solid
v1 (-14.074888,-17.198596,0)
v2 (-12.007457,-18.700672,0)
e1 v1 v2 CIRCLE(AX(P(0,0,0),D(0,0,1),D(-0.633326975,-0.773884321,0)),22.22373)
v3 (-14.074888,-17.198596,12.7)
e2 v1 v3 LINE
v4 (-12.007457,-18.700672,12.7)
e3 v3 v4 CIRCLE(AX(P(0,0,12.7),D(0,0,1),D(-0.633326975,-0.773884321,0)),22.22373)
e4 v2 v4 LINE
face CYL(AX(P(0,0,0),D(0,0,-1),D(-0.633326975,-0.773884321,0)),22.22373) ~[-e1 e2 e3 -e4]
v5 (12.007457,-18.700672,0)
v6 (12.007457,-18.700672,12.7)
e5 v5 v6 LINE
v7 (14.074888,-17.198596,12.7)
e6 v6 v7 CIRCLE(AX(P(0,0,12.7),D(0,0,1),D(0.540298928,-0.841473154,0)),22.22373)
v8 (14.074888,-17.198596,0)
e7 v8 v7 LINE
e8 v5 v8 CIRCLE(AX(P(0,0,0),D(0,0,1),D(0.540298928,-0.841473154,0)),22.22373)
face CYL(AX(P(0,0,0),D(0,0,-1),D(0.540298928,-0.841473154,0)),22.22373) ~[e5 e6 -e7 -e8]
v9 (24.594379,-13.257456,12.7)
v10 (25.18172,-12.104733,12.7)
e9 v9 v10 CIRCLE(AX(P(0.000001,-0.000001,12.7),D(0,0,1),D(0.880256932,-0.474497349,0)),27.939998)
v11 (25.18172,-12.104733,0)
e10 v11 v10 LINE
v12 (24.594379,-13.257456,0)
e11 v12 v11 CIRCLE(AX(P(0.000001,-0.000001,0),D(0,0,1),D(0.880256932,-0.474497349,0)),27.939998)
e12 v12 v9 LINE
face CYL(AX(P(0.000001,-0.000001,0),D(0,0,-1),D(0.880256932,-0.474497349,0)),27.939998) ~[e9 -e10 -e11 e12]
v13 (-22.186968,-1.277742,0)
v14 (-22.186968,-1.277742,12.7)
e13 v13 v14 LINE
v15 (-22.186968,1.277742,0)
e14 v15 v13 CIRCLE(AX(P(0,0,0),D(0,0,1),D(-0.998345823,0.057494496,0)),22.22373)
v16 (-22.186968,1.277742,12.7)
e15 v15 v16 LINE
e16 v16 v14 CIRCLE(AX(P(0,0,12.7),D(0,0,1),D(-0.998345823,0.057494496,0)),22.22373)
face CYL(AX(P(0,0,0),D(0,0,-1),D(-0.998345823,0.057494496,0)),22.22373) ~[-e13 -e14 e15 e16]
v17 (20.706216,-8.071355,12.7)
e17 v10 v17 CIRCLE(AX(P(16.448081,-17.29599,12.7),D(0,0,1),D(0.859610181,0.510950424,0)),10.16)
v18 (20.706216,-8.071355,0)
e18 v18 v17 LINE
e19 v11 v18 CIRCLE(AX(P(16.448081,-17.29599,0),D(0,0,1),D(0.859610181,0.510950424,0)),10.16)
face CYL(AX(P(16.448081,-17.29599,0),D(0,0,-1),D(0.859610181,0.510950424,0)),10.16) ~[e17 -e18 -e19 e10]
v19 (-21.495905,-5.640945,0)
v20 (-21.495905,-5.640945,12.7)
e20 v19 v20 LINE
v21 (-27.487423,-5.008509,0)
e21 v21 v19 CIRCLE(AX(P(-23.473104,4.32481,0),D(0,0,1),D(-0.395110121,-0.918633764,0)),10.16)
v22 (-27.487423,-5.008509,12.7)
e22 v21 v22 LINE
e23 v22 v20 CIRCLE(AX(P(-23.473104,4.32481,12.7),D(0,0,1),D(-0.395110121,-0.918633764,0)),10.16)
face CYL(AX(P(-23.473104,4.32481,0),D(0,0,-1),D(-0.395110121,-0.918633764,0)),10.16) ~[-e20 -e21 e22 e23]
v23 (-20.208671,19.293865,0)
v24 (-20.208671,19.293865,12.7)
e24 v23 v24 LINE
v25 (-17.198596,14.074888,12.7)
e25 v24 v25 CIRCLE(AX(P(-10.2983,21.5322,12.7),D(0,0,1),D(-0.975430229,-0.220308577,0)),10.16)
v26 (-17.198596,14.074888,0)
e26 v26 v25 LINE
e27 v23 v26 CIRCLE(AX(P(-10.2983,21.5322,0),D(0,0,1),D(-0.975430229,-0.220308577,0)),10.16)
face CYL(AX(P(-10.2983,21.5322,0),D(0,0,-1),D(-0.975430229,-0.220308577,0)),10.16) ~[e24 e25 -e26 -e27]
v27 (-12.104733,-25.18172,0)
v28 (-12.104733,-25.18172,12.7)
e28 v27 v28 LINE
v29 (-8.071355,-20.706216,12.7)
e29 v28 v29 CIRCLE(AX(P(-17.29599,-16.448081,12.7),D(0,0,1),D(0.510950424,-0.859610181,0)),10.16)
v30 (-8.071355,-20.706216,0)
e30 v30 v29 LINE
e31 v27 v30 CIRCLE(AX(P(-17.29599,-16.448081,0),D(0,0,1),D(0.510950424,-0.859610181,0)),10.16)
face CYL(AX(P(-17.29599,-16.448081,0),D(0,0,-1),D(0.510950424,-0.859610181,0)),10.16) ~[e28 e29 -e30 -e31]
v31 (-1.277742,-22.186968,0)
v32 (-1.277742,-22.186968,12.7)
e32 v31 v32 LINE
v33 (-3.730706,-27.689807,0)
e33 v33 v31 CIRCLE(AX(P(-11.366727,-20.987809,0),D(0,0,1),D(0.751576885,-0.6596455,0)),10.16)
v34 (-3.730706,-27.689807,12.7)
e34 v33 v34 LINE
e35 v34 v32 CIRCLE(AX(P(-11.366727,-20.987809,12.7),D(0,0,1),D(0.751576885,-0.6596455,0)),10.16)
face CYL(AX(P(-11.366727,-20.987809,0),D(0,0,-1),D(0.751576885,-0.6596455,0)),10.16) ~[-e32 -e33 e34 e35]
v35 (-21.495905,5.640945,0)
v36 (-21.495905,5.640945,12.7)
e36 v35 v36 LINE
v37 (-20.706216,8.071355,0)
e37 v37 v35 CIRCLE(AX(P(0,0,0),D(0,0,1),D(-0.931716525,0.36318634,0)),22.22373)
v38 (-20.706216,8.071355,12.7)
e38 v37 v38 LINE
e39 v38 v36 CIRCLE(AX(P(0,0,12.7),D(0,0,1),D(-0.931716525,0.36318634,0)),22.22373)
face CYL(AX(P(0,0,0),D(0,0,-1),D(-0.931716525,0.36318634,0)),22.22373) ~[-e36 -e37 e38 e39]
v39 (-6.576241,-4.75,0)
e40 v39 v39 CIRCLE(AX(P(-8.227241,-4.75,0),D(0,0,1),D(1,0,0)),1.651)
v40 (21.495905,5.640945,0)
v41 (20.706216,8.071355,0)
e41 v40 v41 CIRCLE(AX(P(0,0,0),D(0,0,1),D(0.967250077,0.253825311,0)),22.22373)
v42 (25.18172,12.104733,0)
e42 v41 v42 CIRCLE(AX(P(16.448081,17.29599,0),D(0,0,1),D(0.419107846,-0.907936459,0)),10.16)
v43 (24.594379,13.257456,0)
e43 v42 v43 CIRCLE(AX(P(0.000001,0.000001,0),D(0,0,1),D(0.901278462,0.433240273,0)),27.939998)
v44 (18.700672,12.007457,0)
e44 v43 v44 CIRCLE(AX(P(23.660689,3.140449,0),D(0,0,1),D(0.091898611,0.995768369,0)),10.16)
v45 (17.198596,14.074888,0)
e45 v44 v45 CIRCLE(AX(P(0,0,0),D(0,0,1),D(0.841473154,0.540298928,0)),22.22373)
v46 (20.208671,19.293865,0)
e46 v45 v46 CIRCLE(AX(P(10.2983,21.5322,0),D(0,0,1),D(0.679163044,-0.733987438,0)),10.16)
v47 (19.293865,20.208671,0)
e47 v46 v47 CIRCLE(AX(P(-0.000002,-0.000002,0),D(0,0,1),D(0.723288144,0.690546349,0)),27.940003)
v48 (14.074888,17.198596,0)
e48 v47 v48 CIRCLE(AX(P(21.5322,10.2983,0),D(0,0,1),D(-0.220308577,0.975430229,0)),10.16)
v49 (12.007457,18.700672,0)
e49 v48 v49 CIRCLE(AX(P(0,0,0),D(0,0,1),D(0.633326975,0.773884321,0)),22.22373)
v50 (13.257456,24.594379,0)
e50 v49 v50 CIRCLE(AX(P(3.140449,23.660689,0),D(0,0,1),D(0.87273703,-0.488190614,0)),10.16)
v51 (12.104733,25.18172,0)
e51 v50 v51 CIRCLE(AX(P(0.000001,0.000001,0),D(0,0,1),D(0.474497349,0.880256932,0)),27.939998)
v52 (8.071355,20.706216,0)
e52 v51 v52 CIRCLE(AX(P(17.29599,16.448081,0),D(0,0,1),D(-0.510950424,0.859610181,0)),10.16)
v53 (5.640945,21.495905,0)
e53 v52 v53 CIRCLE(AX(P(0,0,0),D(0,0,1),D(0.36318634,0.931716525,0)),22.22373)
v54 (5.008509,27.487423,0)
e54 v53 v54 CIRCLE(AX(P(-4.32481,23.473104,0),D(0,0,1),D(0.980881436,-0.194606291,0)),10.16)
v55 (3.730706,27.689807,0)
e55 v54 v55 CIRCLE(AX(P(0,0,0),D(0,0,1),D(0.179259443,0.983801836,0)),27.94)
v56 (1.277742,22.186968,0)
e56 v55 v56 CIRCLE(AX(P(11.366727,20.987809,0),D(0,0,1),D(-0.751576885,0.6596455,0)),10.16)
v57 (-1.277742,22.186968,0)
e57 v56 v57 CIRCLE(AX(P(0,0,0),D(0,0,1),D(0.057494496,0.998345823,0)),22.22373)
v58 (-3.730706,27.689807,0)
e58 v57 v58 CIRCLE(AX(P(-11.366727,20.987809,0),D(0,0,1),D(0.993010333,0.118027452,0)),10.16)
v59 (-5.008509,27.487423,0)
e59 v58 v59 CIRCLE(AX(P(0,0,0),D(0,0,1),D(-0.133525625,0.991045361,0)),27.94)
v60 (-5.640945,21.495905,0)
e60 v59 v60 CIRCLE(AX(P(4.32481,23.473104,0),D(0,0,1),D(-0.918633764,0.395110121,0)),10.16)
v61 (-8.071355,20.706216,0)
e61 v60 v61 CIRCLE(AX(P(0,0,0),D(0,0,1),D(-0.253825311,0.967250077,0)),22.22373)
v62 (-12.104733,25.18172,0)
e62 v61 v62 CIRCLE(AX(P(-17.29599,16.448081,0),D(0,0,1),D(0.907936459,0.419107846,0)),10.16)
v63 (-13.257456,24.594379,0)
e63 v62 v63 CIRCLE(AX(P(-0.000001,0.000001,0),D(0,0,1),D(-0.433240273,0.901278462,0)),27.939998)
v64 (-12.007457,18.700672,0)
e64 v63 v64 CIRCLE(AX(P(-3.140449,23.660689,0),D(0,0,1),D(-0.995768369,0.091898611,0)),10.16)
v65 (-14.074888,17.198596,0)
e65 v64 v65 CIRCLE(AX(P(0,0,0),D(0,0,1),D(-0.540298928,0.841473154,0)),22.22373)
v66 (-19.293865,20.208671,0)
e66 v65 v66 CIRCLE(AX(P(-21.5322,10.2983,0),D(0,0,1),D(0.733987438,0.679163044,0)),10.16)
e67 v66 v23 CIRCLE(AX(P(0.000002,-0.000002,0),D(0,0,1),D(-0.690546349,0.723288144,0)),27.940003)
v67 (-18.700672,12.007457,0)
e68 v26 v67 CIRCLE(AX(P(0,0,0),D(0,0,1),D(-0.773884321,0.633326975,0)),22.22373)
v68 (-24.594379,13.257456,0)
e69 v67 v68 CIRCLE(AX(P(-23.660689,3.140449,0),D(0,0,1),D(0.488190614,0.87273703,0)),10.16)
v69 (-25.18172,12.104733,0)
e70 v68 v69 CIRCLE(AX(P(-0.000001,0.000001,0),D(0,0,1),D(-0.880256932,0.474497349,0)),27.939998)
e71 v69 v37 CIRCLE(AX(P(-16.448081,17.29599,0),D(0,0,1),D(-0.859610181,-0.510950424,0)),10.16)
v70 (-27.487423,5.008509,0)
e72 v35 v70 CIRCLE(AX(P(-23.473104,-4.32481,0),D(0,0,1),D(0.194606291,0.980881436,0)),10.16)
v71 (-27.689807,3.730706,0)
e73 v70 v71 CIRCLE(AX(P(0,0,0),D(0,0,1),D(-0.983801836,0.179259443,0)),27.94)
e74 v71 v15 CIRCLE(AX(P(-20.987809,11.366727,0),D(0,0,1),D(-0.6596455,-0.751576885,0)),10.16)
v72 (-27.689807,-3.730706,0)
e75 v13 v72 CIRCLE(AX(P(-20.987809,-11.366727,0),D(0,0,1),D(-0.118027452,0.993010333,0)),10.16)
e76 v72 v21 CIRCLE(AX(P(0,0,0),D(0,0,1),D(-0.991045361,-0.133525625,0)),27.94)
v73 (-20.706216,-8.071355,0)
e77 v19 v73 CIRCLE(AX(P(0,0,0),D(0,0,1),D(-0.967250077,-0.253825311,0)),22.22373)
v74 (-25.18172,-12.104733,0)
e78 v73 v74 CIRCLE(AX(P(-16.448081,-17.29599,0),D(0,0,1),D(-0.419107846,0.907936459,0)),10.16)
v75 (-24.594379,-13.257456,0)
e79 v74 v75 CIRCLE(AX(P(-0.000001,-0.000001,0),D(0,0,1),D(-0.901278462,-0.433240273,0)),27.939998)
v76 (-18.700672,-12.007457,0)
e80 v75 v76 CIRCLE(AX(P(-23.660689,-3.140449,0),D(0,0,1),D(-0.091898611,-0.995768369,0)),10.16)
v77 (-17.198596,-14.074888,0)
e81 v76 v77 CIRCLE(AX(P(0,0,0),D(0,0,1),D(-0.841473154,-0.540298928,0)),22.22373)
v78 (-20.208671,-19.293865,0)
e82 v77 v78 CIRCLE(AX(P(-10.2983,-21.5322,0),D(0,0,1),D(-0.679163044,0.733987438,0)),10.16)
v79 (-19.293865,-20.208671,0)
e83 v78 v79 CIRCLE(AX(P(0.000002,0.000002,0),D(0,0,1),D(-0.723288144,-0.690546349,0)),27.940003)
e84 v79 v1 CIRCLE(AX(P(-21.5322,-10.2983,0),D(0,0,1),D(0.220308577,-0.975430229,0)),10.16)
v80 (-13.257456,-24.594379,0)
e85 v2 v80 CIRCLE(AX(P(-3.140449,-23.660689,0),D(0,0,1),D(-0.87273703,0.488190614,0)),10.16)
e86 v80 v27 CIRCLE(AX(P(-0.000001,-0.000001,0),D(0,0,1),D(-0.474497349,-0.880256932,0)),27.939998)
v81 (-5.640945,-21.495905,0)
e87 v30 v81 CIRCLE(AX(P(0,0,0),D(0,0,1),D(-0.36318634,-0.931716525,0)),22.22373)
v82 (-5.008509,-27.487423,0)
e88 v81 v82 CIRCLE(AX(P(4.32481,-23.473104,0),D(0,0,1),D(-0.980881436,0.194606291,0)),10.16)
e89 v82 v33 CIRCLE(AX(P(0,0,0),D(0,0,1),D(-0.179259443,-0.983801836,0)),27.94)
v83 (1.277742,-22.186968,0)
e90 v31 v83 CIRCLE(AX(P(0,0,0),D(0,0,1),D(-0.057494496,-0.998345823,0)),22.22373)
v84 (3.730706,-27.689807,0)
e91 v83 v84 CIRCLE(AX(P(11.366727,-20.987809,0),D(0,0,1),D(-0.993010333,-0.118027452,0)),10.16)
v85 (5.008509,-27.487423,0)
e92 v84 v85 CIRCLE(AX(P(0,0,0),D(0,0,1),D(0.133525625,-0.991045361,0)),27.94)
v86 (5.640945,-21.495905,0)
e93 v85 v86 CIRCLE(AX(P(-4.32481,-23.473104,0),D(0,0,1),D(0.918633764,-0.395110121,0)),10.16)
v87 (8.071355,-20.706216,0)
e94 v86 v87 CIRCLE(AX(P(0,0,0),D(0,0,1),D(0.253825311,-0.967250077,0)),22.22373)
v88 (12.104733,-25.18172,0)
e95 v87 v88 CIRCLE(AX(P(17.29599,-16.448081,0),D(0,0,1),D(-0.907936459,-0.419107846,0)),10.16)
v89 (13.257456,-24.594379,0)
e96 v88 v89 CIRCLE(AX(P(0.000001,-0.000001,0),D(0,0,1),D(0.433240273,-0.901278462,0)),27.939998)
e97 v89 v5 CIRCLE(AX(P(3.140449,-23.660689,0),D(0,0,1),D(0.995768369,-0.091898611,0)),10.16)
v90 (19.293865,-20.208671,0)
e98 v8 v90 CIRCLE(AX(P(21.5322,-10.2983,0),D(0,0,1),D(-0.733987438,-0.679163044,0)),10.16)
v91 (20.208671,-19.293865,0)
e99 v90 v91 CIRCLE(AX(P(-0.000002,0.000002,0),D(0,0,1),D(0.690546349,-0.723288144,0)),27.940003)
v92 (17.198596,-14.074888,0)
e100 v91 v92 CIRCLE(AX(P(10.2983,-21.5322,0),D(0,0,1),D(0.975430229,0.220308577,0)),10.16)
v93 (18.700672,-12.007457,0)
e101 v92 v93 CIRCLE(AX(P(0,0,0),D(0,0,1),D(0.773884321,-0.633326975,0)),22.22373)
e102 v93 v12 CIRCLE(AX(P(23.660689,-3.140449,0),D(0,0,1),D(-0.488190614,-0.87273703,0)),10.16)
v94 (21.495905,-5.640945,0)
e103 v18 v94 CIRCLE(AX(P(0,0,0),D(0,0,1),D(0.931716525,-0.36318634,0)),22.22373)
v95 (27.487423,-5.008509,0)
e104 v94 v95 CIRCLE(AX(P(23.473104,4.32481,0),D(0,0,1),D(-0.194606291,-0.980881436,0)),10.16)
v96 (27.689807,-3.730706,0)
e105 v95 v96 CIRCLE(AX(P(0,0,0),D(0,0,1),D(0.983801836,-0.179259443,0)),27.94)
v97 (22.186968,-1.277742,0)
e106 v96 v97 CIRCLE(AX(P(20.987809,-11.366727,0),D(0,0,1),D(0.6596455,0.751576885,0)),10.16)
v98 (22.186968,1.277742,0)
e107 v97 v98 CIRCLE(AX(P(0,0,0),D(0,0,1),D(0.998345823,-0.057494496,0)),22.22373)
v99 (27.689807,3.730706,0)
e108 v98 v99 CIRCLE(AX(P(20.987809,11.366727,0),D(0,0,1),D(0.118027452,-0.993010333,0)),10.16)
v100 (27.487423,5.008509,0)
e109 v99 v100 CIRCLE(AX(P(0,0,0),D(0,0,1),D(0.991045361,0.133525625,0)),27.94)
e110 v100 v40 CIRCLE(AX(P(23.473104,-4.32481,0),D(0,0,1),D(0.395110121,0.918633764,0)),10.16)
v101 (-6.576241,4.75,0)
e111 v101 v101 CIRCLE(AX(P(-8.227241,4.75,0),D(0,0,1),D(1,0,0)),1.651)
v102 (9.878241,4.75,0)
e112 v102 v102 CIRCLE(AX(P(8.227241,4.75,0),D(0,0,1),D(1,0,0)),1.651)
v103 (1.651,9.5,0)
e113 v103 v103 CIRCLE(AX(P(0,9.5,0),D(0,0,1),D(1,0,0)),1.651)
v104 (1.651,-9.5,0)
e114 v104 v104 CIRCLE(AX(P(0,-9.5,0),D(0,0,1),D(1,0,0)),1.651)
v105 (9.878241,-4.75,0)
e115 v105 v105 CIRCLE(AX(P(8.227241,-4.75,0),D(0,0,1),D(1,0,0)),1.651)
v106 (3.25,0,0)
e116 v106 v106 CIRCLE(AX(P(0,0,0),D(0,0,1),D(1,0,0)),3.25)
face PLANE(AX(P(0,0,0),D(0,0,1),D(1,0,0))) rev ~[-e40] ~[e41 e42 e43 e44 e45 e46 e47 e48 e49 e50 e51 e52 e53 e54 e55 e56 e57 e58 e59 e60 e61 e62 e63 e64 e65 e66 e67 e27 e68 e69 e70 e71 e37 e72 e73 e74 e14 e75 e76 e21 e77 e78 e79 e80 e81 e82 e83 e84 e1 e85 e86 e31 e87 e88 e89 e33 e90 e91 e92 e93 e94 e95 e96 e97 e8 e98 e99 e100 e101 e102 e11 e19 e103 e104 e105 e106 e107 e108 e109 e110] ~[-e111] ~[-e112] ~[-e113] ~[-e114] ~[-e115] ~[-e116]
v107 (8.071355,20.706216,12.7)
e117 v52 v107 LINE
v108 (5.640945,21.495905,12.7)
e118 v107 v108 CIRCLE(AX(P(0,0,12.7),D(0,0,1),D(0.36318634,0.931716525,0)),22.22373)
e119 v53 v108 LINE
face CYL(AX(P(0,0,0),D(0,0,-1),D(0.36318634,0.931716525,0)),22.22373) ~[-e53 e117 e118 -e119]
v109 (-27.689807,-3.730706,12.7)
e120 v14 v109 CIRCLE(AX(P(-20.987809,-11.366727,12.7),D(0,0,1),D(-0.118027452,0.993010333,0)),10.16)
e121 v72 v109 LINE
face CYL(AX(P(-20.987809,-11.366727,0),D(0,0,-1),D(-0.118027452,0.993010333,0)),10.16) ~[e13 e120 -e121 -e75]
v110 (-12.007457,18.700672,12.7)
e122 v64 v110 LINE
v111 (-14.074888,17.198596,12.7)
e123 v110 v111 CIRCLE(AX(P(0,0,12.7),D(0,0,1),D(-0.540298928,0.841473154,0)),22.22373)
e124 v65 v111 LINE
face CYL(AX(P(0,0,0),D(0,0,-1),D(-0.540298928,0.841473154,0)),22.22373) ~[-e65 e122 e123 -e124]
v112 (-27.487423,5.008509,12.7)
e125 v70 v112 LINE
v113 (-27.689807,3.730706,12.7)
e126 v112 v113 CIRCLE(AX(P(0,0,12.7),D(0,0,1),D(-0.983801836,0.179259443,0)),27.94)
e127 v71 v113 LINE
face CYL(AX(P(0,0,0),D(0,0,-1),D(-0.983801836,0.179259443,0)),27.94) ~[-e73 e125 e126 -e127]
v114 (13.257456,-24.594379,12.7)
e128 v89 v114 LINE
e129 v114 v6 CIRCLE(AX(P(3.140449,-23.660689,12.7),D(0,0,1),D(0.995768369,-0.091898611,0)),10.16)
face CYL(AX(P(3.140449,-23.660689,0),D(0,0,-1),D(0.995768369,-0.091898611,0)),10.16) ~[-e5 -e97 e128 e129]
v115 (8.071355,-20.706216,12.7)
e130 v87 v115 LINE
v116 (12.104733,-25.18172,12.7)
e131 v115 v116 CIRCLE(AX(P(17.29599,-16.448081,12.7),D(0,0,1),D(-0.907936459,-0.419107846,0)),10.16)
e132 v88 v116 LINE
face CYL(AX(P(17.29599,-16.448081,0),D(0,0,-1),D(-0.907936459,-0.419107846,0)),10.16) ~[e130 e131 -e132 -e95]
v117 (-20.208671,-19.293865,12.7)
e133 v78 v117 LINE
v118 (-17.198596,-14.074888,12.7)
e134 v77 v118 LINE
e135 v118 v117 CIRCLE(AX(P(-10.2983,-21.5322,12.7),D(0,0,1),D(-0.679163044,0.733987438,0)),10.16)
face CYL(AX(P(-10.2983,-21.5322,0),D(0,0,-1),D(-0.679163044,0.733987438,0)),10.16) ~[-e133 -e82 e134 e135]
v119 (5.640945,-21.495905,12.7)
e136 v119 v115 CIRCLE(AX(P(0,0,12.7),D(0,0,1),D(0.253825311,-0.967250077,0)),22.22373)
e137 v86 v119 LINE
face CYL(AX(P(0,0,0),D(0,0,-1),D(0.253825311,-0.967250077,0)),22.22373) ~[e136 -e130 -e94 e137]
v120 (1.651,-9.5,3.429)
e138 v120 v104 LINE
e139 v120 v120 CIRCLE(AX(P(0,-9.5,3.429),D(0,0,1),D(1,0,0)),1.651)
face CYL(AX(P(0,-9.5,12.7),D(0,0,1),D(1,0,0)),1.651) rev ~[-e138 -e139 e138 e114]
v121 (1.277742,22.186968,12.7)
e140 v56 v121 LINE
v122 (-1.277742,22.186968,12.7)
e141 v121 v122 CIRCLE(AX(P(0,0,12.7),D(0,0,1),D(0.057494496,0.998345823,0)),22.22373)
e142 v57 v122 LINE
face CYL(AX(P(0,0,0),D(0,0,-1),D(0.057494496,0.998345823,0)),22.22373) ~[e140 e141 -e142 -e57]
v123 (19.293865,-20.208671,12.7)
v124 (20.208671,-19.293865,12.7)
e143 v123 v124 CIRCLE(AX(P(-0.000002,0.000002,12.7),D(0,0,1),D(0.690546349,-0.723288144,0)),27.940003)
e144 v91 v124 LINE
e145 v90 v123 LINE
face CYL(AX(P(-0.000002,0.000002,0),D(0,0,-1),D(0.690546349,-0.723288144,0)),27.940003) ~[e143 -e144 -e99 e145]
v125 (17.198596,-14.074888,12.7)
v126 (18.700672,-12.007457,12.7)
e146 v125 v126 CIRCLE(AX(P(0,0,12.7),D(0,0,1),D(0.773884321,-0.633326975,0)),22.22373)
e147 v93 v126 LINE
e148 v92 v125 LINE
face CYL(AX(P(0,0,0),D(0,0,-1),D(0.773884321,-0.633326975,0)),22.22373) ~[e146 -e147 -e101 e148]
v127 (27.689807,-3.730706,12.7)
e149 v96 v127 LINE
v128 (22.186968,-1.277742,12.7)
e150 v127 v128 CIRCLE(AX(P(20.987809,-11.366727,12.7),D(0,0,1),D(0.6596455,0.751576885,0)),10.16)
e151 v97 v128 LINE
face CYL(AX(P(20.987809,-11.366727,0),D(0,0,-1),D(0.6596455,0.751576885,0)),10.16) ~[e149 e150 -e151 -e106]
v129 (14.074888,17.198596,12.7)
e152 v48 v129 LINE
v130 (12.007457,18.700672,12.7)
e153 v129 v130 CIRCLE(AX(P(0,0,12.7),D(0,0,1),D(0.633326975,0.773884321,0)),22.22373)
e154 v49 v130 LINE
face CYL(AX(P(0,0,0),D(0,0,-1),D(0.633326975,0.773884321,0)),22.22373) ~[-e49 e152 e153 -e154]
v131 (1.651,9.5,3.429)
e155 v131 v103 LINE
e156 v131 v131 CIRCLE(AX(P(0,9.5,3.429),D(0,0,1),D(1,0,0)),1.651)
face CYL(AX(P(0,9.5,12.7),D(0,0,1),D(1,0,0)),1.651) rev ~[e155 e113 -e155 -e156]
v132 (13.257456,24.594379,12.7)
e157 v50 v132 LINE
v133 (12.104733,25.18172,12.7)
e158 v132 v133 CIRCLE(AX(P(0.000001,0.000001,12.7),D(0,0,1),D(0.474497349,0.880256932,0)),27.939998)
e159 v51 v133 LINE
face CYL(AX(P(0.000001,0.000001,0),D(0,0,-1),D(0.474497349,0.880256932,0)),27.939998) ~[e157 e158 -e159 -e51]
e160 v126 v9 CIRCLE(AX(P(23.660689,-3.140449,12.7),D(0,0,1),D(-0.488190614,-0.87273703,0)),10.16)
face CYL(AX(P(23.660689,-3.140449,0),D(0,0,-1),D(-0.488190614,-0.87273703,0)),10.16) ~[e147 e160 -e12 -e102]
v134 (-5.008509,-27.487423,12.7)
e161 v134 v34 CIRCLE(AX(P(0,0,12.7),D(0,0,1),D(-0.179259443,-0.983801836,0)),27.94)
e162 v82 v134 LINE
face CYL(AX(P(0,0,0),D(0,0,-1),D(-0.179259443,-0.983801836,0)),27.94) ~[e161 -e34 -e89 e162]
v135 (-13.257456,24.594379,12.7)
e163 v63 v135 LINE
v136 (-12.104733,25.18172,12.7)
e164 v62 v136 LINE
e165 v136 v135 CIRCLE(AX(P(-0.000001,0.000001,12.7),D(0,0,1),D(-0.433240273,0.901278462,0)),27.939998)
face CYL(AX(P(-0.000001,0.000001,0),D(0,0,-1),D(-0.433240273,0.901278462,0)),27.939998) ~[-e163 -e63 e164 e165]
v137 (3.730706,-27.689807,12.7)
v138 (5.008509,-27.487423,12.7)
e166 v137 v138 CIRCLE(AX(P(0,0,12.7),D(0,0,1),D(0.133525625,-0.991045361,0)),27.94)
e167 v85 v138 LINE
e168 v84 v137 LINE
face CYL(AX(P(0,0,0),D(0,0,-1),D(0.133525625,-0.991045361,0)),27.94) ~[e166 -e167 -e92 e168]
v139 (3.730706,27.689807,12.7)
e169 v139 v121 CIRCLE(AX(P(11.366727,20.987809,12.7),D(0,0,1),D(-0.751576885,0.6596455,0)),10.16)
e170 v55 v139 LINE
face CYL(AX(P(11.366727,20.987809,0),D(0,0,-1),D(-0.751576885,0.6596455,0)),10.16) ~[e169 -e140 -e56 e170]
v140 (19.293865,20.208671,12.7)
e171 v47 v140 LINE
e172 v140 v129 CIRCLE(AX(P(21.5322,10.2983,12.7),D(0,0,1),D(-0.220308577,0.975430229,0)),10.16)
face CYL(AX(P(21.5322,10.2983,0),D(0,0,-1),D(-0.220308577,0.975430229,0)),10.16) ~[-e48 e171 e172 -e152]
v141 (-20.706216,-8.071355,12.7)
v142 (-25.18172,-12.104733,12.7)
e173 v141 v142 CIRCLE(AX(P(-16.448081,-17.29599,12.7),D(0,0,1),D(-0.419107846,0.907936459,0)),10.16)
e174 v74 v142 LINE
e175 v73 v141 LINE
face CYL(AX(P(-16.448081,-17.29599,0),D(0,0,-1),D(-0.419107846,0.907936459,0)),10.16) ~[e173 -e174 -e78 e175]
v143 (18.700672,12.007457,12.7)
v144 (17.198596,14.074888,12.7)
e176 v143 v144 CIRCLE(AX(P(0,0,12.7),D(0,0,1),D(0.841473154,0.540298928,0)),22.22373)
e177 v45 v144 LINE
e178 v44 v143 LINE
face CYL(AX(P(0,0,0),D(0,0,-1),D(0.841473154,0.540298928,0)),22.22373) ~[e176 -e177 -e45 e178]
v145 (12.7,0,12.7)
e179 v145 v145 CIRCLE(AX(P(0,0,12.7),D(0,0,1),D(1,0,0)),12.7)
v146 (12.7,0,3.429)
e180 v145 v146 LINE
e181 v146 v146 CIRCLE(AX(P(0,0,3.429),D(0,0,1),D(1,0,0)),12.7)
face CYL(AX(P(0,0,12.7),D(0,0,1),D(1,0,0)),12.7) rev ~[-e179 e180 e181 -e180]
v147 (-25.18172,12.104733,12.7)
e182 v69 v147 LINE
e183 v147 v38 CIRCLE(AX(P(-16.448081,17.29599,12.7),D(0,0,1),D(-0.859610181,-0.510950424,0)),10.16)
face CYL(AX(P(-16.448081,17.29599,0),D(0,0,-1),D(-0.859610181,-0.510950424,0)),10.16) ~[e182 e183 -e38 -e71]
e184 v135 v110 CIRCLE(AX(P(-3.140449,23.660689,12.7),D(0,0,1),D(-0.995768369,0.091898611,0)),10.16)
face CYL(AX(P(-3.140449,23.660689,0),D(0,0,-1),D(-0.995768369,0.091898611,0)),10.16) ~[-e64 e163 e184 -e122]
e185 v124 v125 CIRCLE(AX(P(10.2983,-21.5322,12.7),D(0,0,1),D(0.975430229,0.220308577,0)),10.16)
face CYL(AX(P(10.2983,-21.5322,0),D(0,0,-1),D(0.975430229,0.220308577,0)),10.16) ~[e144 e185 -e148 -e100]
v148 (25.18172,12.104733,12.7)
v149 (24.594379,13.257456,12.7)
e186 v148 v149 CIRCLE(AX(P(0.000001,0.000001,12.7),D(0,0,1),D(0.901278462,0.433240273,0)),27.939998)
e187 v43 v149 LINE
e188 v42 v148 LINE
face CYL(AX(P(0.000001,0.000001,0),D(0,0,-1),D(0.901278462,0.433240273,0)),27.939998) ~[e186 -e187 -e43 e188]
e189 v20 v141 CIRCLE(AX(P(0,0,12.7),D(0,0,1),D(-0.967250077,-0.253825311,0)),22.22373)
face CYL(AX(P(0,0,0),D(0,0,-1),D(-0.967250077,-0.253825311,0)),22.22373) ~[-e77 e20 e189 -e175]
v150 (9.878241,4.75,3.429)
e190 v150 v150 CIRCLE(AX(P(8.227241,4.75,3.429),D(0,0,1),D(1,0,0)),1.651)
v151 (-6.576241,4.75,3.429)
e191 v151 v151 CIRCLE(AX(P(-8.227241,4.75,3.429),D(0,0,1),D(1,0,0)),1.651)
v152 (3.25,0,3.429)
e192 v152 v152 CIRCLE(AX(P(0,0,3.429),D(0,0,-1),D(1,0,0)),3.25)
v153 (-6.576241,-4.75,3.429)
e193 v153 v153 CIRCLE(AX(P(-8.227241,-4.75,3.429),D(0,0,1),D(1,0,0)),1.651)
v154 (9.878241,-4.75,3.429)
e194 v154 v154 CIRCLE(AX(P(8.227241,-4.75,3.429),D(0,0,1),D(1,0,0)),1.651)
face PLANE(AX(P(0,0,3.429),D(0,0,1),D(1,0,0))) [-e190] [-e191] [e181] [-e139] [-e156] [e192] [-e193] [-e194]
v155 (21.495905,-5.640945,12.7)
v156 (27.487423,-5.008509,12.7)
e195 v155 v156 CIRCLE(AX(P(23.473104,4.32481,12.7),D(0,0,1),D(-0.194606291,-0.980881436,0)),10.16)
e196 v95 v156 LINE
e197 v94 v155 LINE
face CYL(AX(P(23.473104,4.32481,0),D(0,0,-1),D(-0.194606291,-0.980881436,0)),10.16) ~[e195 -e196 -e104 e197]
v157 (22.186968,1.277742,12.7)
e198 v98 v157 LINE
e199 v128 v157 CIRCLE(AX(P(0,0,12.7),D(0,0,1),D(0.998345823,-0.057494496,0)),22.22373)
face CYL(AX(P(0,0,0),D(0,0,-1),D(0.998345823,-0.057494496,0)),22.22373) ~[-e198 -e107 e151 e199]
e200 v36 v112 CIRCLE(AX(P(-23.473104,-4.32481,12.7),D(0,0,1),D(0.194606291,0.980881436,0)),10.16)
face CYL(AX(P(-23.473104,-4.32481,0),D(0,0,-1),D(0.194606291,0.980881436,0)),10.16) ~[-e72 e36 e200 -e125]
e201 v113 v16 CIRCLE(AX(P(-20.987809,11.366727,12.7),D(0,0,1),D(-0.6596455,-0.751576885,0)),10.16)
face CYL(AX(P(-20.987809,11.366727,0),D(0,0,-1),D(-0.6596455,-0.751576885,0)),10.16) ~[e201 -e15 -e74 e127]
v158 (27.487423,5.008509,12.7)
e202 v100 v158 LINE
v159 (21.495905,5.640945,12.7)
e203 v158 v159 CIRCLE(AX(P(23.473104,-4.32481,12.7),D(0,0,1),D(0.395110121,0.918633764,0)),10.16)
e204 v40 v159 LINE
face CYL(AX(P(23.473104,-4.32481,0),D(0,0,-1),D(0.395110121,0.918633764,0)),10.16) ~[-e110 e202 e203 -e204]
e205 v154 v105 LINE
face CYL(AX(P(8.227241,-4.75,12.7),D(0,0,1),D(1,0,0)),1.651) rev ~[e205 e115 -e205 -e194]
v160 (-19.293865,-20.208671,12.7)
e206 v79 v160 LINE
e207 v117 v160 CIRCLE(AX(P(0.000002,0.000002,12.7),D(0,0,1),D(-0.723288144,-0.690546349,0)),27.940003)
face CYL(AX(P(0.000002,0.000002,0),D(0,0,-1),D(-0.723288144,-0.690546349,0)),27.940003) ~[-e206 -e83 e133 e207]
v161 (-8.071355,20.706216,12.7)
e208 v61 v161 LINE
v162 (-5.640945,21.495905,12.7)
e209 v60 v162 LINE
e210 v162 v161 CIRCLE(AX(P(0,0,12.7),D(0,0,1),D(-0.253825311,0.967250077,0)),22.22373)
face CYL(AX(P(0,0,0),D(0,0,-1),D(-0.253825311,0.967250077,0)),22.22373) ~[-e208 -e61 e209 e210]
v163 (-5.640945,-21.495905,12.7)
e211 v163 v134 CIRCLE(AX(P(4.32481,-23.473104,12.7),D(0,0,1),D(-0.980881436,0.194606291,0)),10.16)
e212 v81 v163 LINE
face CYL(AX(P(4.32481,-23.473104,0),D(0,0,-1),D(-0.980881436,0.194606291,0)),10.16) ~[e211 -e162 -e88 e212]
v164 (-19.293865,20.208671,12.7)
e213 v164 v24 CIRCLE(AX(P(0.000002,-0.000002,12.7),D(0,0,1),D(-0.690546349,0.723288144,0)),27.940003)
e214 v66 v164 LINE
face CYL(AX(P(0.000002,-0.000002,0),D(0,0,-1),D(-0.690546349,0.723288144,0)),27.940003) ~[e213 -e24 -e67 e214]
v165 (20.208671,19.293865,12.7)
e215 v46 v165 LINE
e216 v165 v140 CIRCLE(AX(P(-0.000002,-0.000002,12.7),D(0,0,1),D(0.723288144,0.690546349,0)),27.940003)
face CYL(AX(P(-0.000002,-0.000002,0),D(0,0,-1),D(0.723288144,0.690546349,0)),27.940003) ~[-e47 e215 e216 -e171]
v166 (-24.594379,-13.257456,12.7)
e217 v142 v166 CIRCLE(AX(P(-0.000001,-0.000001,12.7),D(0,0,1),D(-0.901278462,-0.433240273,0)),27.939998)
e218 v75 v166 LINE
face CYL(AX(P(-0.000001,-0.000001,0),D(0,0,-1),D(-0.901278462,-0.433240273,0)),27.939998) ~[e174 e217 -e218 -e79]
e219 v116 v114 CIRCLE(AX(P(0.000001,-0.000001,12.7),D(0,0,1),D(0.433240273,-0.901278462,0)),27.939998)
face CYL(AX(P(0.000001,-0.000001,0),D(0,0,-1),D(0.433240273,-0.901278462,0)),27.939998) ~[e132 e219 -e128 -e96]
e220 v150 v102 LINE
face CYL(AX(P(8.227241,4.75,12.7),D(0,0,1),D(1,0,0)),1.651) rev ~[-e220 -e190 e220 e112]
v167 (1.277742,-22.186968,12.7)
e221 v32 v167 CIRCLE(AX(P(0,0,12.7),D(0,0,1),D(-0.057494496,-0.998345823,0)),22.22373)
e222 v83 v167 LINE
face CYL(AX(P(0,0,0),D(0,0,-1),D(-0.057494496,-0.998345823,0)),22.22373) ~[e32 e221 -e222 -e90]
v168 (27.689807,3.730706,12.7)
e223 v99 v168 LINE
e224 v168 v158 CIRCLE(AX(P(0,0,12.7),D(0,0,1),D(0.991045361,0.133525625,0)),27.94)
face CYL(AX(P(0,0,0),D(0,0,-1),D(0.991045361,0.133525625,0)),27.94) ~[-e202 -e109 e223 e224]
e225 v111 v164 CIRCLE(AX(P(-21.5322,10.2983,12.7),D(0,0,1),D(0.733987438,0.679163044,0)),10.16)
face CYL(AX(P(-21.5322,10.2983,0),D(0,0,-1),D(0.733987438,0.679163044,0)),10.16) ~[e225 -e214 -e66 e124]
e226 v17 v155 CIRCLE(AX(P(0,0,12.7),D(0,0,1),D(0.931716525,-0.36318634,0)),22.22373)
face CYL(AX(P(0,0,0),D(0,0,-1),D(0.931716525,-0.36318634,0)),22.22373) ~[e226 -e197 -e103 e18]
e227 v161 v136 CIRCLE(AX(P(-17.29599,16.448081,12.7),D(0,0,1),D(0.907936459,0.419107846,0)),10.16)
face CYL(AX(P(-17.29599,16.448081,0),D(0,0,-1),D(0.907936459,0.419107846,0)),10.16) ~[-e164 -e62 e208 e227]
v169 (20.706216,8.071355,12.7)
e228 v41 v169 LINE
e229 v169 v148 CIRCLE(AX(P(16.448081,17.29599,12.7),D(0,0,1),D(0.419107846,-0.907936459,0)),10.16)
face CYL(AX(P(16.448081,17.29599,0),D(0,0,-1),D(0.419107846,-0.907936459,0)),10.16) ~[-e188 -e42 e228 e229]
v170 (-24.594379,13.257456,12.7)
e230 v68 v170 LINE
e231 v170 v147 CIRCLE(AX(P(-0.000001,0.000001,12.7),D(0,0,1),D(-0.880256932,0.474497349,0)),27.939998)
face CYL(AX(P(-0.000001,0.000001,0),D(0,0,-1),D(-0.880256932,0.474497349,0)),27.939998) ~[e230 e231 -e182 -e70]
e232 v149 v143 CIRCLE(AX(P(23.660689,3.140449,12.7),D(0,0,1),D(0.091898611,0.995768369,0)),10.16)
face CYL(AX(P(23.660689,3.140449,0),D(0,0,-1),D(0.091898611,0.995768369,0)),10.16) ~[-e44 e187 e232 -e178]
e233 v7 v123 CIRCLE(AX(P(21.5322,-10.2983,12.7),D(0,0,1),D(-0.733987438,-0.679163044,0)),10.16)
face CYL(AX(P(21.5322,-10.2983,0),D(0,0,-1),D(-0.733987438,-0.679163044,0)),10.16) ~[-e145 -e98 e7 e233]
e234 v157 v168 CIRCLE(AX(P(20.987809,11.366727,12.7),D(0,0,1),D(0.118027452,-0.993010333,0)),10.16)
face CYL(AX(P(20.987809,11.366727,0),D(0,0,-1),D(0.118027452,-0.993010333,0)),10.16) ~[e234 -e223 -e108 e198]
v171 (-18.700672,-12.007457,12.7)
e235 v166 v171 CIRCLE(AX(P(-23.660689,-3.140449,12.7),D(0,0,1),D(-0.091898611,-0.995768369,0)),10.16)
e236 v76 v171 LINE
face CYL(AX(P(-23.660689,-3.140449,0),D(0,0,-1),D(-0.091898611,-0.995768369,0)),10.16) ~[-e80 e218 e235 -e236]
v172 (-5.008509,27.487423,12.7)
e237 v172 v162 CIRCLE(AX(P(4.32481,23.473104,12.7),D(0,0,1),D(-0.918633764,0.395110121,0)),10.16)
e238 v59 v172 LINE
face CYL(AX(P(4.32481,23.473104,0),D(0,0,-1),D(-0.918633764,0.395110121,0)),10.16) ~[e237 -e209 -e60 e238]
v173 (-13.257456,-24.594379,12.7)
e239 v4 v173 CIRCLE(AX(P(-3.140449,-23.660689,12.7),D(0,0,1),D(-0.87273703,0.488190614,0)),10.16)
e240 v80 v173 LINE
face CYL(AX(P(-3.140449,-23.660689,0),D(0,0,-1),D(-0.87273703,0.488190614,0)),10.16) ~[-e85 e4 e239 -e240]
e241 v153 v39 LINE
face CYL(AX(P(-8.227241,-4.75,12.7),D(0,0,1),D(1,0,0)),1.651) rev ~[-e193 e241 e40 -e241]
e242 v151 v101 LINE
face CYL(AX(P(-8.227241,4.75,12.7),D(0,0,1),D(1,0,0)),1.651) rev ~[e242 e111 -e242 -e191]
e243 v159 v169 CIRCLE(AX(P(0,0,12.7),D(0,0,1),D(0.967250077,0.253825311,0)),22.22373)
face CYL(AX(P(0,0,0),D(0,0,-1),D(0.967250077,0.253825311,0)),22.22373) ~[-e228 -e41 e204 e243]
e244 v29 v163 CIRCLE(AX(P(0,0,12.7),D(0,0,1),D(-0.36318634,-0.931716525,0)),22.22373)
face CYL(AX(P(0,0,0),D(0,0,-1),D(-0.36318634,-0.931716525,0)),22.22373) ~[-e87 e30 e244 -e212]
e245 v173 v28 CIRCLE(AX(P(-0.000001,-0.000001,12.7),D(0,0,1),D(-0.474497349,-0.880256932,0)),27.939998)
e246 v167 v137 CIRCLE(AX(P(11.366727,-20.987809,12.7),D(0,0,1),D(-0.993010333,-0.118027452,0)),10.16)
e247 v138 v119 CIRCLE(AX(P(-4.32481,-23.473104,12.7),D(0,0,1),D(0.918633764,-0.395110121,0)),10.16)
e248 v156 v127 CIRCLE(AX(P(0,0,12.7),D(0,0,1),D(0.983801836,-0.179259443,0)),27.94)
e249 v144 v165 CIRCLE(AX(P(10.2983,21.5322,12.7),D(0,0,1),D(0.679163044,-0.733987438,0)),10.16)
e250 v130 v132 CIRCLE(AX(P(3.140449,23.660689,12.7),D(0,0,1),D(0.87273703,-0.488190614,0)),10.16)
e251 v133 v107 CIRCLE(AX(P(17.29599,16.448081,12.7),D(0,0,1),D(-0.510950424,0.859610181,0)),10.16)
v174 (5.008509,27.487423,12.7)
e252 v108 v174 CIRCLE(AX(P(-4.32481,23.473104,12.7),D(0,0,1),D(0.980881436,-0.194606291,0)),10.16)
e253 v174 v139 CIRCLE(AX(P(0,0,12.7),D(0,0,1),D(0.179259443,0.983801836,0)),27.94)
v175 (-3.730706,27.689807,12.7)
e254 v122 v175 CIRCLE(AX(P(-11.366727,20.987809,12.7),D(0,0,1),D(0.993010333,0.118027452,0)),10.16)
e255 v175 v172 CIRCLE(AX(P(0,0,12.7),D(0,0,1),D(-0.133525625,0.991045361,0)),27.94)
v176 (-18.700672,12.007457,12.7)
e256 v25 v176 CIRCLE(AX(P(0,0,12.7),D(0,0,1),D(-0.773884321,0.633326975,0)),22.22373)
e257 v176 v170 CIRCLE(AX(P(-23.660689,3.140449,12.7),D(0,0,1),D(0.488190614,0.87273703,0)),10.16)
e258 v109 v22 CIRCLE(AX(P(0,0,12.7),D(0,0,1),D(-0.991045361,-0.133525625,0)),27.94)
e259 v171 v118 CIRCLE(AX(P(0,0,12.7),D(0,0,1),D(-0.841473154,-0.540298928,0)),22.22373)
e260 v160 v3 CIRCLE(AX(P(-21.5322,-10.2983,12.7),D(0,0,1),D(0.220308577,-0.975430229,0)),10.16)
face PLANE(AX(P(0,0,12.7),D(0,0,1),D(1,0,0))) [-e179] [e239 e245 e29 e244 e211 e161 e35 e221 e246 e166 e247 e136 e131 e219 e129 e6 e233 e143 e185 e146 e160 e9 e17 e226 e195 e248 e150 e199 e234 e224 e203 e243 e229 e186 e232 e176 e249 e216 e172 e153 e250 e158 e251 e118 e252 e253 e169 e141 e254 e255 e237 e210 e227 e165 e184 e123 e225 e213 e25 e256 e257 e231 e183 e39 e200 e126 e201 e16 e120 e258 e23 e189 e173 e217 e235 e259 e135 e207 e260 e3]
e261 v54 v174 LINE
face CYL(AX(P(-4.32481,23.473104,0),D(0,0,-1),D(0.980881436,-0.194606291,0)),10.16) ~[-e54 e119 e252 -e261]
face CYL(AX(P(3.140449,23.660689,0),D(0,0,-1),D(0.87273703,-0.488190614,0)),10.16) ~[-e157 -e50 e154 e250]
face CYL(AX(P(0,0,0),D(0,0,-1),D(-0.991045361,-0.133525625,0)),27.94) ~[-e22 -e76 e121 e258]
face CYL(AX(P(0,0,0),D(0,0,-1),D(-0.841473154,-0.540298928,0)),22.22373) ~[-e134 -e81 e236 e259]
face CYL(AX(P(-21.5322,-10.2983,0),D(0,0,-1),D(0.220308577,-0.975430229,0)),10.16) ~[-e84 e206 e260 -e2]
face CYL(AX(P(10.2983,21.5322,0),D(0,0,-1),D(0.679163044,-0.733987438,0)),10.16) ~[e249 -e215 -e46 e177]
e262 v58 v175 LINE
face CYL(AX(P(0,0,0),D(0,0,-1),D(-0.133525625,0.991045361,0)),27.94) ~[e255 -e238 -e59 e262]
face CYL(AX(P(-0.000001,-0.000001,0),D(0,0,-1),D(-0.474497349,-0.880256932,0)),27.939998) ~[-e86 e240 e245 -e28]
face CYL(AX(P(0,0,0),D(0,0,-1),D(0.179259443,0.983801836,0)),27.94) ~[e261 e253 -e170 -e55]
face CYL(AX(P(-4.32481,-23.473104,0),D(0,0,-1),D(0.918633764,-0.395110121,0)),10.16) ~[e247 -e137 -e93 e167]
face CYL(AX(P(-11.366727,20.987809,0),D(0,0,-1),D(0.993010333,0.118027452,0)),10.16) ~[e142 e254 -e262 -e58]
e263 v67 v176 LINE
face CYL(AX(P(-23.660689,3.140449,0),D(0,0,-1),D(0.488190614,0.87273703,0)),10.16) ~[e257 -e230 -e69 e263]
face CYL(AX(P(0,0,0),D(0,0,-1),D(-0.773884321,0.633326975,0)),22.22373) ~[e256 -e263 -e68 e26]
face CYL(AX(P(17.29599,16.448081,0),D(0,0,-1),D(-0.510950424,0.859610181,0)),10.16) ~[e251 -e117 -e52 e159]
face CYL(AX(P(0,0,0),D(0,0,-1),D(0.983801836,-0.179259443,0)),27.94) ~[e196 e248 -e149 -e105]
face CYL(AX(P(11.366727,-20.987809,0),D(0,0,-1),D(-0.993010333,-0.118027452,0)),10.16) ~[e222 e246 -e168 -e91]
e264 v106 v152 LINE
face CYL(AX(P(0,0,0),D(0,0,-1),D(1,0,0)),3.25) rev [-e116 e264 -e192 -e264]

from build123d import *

# Parameters (mm, degrees)
SKETCH1_R           = 3.25
BOSS_EXTRUDE1_DEPTH = 12.7
CUT_EXTRUDE1_REACH  = 43.167
SKETCH2_R           = 1.651
SKETCH3_R           = 12.7
CUT_EXTRUDE2_DEPTH  = 9.271


with BuildPart() as part:
    # Sketch1 → Boss-Extrude1 (new body)
    with BuildSketch(Plane.XY):
        with BuildLine():
            ThreePointArc((-27.689807384, 3.730705969), (-25.124393342, 2.086949602), (-22.186968024, 1.277742146))
            ThreePointArc((-22.186968024, 1.277742146), (-22.22373, 0), (-22.186968024, -1.277742146))
            ThreePointArc((-22.186968024, -1.277742146), (-25.124393342, -2.086949602), (-27.689807384, -3.730705969))
            ThreePointArc((-27.689807384, -3.730705969), (-27.596012236, -4.370778953), (-27.487423293, -5.00850883))
            ThreePointArc((-27.487423293, -5.00850883), (-24.539620899, -5.779057498), (-21.495904554, -5.640945179))
            ThreePointArc((-21.495904554, -5.640945179), (-21.136023233, -6.867510248), (-20.706216479, -8.071355168))
            ThreePointArc((-20.706216479, -8.071355168), (-23.249815112, -9.748671534), (-25.181720202, -12.104733275))
            ThreePointArc((-25.181720202, -12.104733275), (-24.894722286, -12.684494563), (-24.594378694, -13.257455889))
            ThreePointArc((-24.594378694, -13.257455889), (-21.552739385, -13.079370185), (-18.700672175, -12.007457487))
            ThreePointArc((-18.700672175, -12.007457487), (-17.979375248, -13.062780745), (-17.198596196, -14.074887709))
            ThreePointArc((-17.198596196, -14.074887709), (-19.099382988, -16.456125574), (-20.208670796, -19.293864949))
            ThreePointArc((-20.208670796, -19.293864949), (-19.756563466, -19.756563466), (-19.293864949, -20.208670796))
            ThreePointArc((-19.293864949, -20.208670796), (-16.456125574, -19.099382988), (-14.074887709, -17.198596196))
            ThreePointArc((-14.074887709, -17.198596196), (-13.062780745, -17.979375248), (-12.007457487, -18.700672175))
            ThreePointArc((-12.007457487, -18.700672175), (-13.079370185, -21.552739385), (-13.257455889, -24.594378694))
            ThreePointArc((-13.257455889, -24.594378694), (-12.684494563, -24.894722286), (-12.104733275, -25.181720202))
            ThreePointArc((-12.104733275, -25.181720202), (-9.748671534, -23.249815112), (-8.071355168, -20.706216479))
            ThreePointArc((-8.071355168, -20.706216479), (-6.867510248, -21.136023233), (-5.640945179, -21.495904554))
            ThreePointArc((-5.640945179, -21.495904554), (-5.779057498, -24.539620899), (-5.00850883, -27.487423293))
            ThreePointArc((-5.00850883, -27.487423293), (-4.370778953, -27.596012236), (-3.730705969, -27.689807384))
            ThreePointArc((-3.730705969, -27.689807384), (-2.086949602, -25.124393342), (-1.277742146, -22.186968024))
            ThreePointArc((-1.277742146, -22.186968024), (0, -22.22373), (1.277742146, -22.186968024))
            ThreePointArc((1.277742146, -22.186968024), (2.086949602, -25.124393342), (3.730705969, -27.689807384))
            ThreePointArc((3.730705969, -27.689807384), (4.370778953, -27.596012236), (5.00850883, -27.487423293))
            ThreePointArc((5.00850883, -27.487423293), (5.779057498, -24.539620899), (5.640945179, -21.495904554))
            ThreePointArc((5.640945179, -21.495904554), (6.867510248, -21.136023233), (8.071355168, -20.706216479))
            ThreePointArc((8.071355168, -20.706216479), (9.748671534, -23.249815112), (12.104733275, -25.181720202))
            ThreePointArc((12.104733275, -25.181720202), (12.684494563, -24.894722286), (13.257455889, -24.594378694))
            ThreePointArc((13.257455889, -24.594378694), (13.079370185, -21.552739385), (12.007457487, -18.700672175))
            ThreePointArc((12.007457487, -18.700672175), (13.062780745, -17.979375248), (14.074887709, -17.198596196))
            ThreePointArc((14.074887709, -17.198596196), (16.456125574, -19.099382988), (19.293864949, -20.208670796))
            ThreePointArc((19.293864949, -20.208670796), (19.756563466, -19.756563466), (20.208670796, -19.293864949))
            ThreePointArc((20.208670796, -19.293864949), (19.099382988, -16.456125574), (17.198596196, -14.074887709))
            ThreePointArc((17.198596196, -14.074887709), (17.979375248, -13.062780745), (18.700672175, -12.007457487))
            ThreePointArc((18.700672175, -12.007457487), (21.552739385, -13.079370185), (24.594378694, -13.257455889))
            ThreePointArc((24.594378694, -13.257455889), (24.894722286, -12.684494563), (25.181720202, -12.104733275))
            ThreePointArc((25.181720202, -12.104733275), (23.249815112, -9.748671534), (20.706216479, -8.071355168))
            ThreePointArc((20.706216479, -8.071355168), (21.136023233, -6.867510248), (21.495904554, -5.640945179))
            ThreePointArc((21.495904554, -5.640945179), (24.539620899, -5.779057498), (27.487423293, -5.00850883))
            ThreePointArc((27.487423293, -5.00850883), (27.596012236, -4.370778953), (27.689807384, -3.730705969))
            ThreePointArc((27.689807384, -3.730705969), (25.124393342, -2.086949602), (22.186968024, -1.277742146))
            ThreePointArc((22.186968024, -1.277742146), (22.22373, 0), (22.186968024, 1.277742146))
            ThreePointArc((22.186968024, 1.277742146), (25.124393342, 2.086949602), (27.689807384, 3.730705969))
            ThreePointArc((27.689807384, 3.730705969), (27.596012236, 4.370778953), (27.487423293, 5.00850883))
            ThreePointArc((27.487423293, 5.00850883), (24.539620899, 5.779057498), (21.495904554, 5.640945179))
            ThreePointArc((21.495904554, 5.640945179), (21.136023233, 6.867510248), (20.706216479, 8.071355168))
            ThreePointArc((20.706216479, 8.071355168), (23.249815112, 9.748671534), (25.181720202, 12.104733275))
            ThreePointArc((25.181720202, 12.104733275), (24.894722286, 12.684494563), (24.594378694, 13.257455889))
            ThreePointArc((24.594378694, 13.257455889), (21.552739385, 13.079370185), (18.700672175, 12.007457487))
            ThreePointArc((18.700672175, 12.007457487), (17.979375248, 13.062780745), (17.198596196, 14.074887709))
            ThreePointArc((17.198596196, 14.074887709), (19.099382988, 16.456125574), (20.208670796, 19.293864949))
            ThreePointArc((20.208670796, 19.293864949), (19.756563466, 19.756563466), (19.293864949, 20.208670796))
            ThreePointArc((19.293864949, 20.208670796), (16.456125574, 19.099382988), (14.074887709, 17.198596196))
            ThreePointArc((14.074887709, 17.198596196), (13.062780745, 17.979375248), (12.007457487, 18.700672175))
            ThreePointArc((12.007457487, 18.700672175), (13.079370185, 21.552739385), (13.257455889, 24.594378694))
            ThreePointArc((13.257455889, 24.594378694), (12.684494563, 24.894722286), (12.104733275, 25.181720202))
            ThreePointArc((12.104733275, 25.181720202), (9.748671534, 23.249815112), (8.071355168, 20.706216479))
            ThreePointArc((8.071355168, 20.706216479), (6.867510248, 21.136023233), (5.640945179, 21.495904554))
            ThreePointArc((5.640945179, 21.495904554), (5.779057498, 24.539620899), (5.00850883, 27.487423293))
            ThreePointArc((5.00850883, 27.487423293), (4.370778953, 27.596012236), (3.730705969, 27.689807384))
            ThreePointArc((3.730705969, 27.689807384), (2.086949602, 25.124393342), (1.277742146, 22.186968024))
            ThreePointArc((1.277742146, 22.186968024), (0, 22.22373), (-1.277742146, 22.186968024))
            ThreePointArc((-1.277742146, 22.186968024), (-2.086949602, 25.124393342), (-3.730705969, 27.689807384))
            ThreePointArc((-3.730705969, 27.689807384), (-4.370778953, 27.596012236), (-5.00850883, 27.487423293))
            ThreePointArc((-5.00850883, 27.487423293), (-5.779057498, 24.539620899), (-5.640945179, 21.495904554))
            ThreePointArc((-5.640945179, 21.495904554), (-6.867510248, 21.136023233), (-8.071355168, 20.706216479))
            ThreePointArc((-8.071355168, 20.706216479), (-9.748671534, 23.249815112), (-12.104733275, 25.181720202))
            ThreePointArc((-12.104733275, 25.181720202), (-12.684494563, 24.894722286), (-13.257455889, 24.594378694))
            ThreePointArc((-13.257455889, 24.594378694), (-13.079370185, 21.552739385), (-12.007457487, 18.700672175))
            ThreePointArc((-12.007457487, 18.700672175), (-13.062780745, 17.979375248), (-14.074887709, 17.198596196))
            ThreePointArc((-14.074887709, 17.198596196), (-16.456125574, 19.099382988), (-19.293864949, 20.208670796))
            ThreePointArc((-19.293864949, 20.208670796), (-19.756563466, 19.756563466), (-20.208670796, 19.293864949))
            ThreePointArc((-20.208670796, 19.293864949), (-19.099382988, 16.456125574), (-17.198596196, 14.074887709))
            ThreePointArc((-17.198596196, 14.074887709), (-17.979375248, 13.062780745), (-18.700672175, 12.007457487))
            ThreePointArc((-18.700672175, 12.007457487), (-21.552739385, 13.079370185), (-24.594378694, 13.257455889))
            ThreePointArc((-24.594378694, 13.257455889), (-24.894722286, 12.684494563), (-25.181720202, 12.104733275))
            ThreePointArc((-25.181720202, 12.104733275), (-23.249815112, 9.748671534), (-20.706216479, 8.071355168))
            ThreePointArc((-20.706216479, 8.071355168), (-21.136023233, 6.867510248), (-21.495904554, 5.640945179))
            ThreePointArc((-21.495904554, 5.640945179), (-24.539620899, 5.779057498), (-27.487423293, 5.00850883))
            ThreePointArc((-27.487423293, 5.00850883), (-27.596012236, 4.370778953), (-27.689807384, 3.730705969))
        make_face()
        Circle(SKETCH1_R, mode=Mode.SUBTRACT)
    extrude(amount=BOSS_EXTRUDE1_DEPTH)

    # Sketch2 → Cut-Extrude1 (cut, up to next)
    with BuildSketch(Plane.XY.offset(12.7), mode=Mode.PRIVATE) as cut_extrude1_sk1:
        with Locations((0, 9.5)):
            Circle(SKETCH2_R)
    cut_extrude1_tool1 = extrude(cut_extrude1_sk1.sketch, amount=-CUT_EXTRUDE1_REACH, mode=Mode.PRIVATE) & part.part
    # Sketch2 → Cut-Extrude1 (cut, up to next)
    with BuildSketch(Plane.XY.offset(12.7), mode=Mode.PRIVATE) as cut_extrude1_sk2:
        with Locations((8.227241336, 4.75)):
            Circle(SKETCH2_R)
    cut_extrude1_tool2 = extrude(cut_extrude1_sk2.sketch, amount=-CUT_EXTRUDE1_REACH, mode=Mode.PRIVATE) & part.part
    # Sketch2 → Cut-Extrude1 (cut, up to next)
    with BuildSketch(Plane.XY.offset(12.7), mode=Mode.PRIVATE) as cut_extrude1_sk3:
        with Locations((8.227241336, -4.75)):
            Circle(SKETCH2_R)
    cut_extrude1_tool3 = extrude(cut_extrude1_sk3.sketch, amount=-CUT_EXTRUDE1_REACH, mode=Mode.PRIVATE) & part.part
    # Sketch2 → Cut-Extrude1 (cut, up to next)
    with BuildSketch(Plane.XY.offset(12.7), mode=Mode.PRIVATE) as cut_extrude1_sk4:
        with Locations((0, -9.5)):
            Circle(SKETCH2_R)
    cut_extrude1_tool4 = extrude(cut_extrude1_sk4.sketch, amount=-CUT_EXTRUDE1_REACH, mode=Mode.PRIVATE) & part.part
    # Sketch2 → Cut-Extrude1 (cut, up to next)
    with BuildSketch(Plane.XY.offset(12.7), mode=Mode.PRIVATE) as cut_extrude1_sk5:
        with Locations((-8.227241336, -4.75)):
            Circle(SKETCH2_R)
    cut_extrude1_tool5 = extrude(cut_extrude1_sk5.sketch, amount=-CUT_EXTRUDE1_REACH, mode=Mode.PRIVATE) & part.part
    # Sketch2 → Cut-Extrude1 (cut, up to next)
    with BuildSketch(Plane.XY.offset(12.7), mode=Mode.PRIVATE) as cut_extrude1_sk6:
        with Locations((-8.227241336, 4.75)):
            Circle(SKETCH2_R)
    cut_extrude1_tool6 = extrude(cut_extrude1_sk6.sketch, amount=-CUT_EXTRUDE1_REACH, mode=Mode.PRIVATE) & part.part
    add(cut_extrude1_tool1.solids().sort_by_distance((0, 9.5, 12.7))[0], mode=Mode.SUBTRACT)
    add(cut_extrude1_tool2.solids().sort_by_distance((8.227241, 4.75, 12.7))[0], mode=Mode.SUBTRACT)
    add(cut_extrude1_tool3.solids().sort_by_distance((8.227241, -4.75, 12.7))[0], mode=Mode.SUBTRACT)
    add(cut_extrude1_tool4.solids().sort_by_distance((0, -9.5, 12.7))[0], mode=Mode.SUBTRACT)
    add(cut_extrude1_tool5.solids().sort_by_distance((-8.227241, -4.75, 12.7))[0], mode=Mode.SUBTRACT)
    add(cut_extrude1_tool6.solids().sort_by_distance((-8.227241, 4.75, 12.7))[0], mode=Mode.SUBTRACT)

    # Sketch3 → Cut-Extrude2 (cut)
    with BuildSketch(Plane.XY.offset(12.7)):
        Circle(SKETCH3_R)
    extrude(amount=-CUT_EXTRUDE2_DEPTH, mode=Mode.SUBTRACT)


solid = part.part
